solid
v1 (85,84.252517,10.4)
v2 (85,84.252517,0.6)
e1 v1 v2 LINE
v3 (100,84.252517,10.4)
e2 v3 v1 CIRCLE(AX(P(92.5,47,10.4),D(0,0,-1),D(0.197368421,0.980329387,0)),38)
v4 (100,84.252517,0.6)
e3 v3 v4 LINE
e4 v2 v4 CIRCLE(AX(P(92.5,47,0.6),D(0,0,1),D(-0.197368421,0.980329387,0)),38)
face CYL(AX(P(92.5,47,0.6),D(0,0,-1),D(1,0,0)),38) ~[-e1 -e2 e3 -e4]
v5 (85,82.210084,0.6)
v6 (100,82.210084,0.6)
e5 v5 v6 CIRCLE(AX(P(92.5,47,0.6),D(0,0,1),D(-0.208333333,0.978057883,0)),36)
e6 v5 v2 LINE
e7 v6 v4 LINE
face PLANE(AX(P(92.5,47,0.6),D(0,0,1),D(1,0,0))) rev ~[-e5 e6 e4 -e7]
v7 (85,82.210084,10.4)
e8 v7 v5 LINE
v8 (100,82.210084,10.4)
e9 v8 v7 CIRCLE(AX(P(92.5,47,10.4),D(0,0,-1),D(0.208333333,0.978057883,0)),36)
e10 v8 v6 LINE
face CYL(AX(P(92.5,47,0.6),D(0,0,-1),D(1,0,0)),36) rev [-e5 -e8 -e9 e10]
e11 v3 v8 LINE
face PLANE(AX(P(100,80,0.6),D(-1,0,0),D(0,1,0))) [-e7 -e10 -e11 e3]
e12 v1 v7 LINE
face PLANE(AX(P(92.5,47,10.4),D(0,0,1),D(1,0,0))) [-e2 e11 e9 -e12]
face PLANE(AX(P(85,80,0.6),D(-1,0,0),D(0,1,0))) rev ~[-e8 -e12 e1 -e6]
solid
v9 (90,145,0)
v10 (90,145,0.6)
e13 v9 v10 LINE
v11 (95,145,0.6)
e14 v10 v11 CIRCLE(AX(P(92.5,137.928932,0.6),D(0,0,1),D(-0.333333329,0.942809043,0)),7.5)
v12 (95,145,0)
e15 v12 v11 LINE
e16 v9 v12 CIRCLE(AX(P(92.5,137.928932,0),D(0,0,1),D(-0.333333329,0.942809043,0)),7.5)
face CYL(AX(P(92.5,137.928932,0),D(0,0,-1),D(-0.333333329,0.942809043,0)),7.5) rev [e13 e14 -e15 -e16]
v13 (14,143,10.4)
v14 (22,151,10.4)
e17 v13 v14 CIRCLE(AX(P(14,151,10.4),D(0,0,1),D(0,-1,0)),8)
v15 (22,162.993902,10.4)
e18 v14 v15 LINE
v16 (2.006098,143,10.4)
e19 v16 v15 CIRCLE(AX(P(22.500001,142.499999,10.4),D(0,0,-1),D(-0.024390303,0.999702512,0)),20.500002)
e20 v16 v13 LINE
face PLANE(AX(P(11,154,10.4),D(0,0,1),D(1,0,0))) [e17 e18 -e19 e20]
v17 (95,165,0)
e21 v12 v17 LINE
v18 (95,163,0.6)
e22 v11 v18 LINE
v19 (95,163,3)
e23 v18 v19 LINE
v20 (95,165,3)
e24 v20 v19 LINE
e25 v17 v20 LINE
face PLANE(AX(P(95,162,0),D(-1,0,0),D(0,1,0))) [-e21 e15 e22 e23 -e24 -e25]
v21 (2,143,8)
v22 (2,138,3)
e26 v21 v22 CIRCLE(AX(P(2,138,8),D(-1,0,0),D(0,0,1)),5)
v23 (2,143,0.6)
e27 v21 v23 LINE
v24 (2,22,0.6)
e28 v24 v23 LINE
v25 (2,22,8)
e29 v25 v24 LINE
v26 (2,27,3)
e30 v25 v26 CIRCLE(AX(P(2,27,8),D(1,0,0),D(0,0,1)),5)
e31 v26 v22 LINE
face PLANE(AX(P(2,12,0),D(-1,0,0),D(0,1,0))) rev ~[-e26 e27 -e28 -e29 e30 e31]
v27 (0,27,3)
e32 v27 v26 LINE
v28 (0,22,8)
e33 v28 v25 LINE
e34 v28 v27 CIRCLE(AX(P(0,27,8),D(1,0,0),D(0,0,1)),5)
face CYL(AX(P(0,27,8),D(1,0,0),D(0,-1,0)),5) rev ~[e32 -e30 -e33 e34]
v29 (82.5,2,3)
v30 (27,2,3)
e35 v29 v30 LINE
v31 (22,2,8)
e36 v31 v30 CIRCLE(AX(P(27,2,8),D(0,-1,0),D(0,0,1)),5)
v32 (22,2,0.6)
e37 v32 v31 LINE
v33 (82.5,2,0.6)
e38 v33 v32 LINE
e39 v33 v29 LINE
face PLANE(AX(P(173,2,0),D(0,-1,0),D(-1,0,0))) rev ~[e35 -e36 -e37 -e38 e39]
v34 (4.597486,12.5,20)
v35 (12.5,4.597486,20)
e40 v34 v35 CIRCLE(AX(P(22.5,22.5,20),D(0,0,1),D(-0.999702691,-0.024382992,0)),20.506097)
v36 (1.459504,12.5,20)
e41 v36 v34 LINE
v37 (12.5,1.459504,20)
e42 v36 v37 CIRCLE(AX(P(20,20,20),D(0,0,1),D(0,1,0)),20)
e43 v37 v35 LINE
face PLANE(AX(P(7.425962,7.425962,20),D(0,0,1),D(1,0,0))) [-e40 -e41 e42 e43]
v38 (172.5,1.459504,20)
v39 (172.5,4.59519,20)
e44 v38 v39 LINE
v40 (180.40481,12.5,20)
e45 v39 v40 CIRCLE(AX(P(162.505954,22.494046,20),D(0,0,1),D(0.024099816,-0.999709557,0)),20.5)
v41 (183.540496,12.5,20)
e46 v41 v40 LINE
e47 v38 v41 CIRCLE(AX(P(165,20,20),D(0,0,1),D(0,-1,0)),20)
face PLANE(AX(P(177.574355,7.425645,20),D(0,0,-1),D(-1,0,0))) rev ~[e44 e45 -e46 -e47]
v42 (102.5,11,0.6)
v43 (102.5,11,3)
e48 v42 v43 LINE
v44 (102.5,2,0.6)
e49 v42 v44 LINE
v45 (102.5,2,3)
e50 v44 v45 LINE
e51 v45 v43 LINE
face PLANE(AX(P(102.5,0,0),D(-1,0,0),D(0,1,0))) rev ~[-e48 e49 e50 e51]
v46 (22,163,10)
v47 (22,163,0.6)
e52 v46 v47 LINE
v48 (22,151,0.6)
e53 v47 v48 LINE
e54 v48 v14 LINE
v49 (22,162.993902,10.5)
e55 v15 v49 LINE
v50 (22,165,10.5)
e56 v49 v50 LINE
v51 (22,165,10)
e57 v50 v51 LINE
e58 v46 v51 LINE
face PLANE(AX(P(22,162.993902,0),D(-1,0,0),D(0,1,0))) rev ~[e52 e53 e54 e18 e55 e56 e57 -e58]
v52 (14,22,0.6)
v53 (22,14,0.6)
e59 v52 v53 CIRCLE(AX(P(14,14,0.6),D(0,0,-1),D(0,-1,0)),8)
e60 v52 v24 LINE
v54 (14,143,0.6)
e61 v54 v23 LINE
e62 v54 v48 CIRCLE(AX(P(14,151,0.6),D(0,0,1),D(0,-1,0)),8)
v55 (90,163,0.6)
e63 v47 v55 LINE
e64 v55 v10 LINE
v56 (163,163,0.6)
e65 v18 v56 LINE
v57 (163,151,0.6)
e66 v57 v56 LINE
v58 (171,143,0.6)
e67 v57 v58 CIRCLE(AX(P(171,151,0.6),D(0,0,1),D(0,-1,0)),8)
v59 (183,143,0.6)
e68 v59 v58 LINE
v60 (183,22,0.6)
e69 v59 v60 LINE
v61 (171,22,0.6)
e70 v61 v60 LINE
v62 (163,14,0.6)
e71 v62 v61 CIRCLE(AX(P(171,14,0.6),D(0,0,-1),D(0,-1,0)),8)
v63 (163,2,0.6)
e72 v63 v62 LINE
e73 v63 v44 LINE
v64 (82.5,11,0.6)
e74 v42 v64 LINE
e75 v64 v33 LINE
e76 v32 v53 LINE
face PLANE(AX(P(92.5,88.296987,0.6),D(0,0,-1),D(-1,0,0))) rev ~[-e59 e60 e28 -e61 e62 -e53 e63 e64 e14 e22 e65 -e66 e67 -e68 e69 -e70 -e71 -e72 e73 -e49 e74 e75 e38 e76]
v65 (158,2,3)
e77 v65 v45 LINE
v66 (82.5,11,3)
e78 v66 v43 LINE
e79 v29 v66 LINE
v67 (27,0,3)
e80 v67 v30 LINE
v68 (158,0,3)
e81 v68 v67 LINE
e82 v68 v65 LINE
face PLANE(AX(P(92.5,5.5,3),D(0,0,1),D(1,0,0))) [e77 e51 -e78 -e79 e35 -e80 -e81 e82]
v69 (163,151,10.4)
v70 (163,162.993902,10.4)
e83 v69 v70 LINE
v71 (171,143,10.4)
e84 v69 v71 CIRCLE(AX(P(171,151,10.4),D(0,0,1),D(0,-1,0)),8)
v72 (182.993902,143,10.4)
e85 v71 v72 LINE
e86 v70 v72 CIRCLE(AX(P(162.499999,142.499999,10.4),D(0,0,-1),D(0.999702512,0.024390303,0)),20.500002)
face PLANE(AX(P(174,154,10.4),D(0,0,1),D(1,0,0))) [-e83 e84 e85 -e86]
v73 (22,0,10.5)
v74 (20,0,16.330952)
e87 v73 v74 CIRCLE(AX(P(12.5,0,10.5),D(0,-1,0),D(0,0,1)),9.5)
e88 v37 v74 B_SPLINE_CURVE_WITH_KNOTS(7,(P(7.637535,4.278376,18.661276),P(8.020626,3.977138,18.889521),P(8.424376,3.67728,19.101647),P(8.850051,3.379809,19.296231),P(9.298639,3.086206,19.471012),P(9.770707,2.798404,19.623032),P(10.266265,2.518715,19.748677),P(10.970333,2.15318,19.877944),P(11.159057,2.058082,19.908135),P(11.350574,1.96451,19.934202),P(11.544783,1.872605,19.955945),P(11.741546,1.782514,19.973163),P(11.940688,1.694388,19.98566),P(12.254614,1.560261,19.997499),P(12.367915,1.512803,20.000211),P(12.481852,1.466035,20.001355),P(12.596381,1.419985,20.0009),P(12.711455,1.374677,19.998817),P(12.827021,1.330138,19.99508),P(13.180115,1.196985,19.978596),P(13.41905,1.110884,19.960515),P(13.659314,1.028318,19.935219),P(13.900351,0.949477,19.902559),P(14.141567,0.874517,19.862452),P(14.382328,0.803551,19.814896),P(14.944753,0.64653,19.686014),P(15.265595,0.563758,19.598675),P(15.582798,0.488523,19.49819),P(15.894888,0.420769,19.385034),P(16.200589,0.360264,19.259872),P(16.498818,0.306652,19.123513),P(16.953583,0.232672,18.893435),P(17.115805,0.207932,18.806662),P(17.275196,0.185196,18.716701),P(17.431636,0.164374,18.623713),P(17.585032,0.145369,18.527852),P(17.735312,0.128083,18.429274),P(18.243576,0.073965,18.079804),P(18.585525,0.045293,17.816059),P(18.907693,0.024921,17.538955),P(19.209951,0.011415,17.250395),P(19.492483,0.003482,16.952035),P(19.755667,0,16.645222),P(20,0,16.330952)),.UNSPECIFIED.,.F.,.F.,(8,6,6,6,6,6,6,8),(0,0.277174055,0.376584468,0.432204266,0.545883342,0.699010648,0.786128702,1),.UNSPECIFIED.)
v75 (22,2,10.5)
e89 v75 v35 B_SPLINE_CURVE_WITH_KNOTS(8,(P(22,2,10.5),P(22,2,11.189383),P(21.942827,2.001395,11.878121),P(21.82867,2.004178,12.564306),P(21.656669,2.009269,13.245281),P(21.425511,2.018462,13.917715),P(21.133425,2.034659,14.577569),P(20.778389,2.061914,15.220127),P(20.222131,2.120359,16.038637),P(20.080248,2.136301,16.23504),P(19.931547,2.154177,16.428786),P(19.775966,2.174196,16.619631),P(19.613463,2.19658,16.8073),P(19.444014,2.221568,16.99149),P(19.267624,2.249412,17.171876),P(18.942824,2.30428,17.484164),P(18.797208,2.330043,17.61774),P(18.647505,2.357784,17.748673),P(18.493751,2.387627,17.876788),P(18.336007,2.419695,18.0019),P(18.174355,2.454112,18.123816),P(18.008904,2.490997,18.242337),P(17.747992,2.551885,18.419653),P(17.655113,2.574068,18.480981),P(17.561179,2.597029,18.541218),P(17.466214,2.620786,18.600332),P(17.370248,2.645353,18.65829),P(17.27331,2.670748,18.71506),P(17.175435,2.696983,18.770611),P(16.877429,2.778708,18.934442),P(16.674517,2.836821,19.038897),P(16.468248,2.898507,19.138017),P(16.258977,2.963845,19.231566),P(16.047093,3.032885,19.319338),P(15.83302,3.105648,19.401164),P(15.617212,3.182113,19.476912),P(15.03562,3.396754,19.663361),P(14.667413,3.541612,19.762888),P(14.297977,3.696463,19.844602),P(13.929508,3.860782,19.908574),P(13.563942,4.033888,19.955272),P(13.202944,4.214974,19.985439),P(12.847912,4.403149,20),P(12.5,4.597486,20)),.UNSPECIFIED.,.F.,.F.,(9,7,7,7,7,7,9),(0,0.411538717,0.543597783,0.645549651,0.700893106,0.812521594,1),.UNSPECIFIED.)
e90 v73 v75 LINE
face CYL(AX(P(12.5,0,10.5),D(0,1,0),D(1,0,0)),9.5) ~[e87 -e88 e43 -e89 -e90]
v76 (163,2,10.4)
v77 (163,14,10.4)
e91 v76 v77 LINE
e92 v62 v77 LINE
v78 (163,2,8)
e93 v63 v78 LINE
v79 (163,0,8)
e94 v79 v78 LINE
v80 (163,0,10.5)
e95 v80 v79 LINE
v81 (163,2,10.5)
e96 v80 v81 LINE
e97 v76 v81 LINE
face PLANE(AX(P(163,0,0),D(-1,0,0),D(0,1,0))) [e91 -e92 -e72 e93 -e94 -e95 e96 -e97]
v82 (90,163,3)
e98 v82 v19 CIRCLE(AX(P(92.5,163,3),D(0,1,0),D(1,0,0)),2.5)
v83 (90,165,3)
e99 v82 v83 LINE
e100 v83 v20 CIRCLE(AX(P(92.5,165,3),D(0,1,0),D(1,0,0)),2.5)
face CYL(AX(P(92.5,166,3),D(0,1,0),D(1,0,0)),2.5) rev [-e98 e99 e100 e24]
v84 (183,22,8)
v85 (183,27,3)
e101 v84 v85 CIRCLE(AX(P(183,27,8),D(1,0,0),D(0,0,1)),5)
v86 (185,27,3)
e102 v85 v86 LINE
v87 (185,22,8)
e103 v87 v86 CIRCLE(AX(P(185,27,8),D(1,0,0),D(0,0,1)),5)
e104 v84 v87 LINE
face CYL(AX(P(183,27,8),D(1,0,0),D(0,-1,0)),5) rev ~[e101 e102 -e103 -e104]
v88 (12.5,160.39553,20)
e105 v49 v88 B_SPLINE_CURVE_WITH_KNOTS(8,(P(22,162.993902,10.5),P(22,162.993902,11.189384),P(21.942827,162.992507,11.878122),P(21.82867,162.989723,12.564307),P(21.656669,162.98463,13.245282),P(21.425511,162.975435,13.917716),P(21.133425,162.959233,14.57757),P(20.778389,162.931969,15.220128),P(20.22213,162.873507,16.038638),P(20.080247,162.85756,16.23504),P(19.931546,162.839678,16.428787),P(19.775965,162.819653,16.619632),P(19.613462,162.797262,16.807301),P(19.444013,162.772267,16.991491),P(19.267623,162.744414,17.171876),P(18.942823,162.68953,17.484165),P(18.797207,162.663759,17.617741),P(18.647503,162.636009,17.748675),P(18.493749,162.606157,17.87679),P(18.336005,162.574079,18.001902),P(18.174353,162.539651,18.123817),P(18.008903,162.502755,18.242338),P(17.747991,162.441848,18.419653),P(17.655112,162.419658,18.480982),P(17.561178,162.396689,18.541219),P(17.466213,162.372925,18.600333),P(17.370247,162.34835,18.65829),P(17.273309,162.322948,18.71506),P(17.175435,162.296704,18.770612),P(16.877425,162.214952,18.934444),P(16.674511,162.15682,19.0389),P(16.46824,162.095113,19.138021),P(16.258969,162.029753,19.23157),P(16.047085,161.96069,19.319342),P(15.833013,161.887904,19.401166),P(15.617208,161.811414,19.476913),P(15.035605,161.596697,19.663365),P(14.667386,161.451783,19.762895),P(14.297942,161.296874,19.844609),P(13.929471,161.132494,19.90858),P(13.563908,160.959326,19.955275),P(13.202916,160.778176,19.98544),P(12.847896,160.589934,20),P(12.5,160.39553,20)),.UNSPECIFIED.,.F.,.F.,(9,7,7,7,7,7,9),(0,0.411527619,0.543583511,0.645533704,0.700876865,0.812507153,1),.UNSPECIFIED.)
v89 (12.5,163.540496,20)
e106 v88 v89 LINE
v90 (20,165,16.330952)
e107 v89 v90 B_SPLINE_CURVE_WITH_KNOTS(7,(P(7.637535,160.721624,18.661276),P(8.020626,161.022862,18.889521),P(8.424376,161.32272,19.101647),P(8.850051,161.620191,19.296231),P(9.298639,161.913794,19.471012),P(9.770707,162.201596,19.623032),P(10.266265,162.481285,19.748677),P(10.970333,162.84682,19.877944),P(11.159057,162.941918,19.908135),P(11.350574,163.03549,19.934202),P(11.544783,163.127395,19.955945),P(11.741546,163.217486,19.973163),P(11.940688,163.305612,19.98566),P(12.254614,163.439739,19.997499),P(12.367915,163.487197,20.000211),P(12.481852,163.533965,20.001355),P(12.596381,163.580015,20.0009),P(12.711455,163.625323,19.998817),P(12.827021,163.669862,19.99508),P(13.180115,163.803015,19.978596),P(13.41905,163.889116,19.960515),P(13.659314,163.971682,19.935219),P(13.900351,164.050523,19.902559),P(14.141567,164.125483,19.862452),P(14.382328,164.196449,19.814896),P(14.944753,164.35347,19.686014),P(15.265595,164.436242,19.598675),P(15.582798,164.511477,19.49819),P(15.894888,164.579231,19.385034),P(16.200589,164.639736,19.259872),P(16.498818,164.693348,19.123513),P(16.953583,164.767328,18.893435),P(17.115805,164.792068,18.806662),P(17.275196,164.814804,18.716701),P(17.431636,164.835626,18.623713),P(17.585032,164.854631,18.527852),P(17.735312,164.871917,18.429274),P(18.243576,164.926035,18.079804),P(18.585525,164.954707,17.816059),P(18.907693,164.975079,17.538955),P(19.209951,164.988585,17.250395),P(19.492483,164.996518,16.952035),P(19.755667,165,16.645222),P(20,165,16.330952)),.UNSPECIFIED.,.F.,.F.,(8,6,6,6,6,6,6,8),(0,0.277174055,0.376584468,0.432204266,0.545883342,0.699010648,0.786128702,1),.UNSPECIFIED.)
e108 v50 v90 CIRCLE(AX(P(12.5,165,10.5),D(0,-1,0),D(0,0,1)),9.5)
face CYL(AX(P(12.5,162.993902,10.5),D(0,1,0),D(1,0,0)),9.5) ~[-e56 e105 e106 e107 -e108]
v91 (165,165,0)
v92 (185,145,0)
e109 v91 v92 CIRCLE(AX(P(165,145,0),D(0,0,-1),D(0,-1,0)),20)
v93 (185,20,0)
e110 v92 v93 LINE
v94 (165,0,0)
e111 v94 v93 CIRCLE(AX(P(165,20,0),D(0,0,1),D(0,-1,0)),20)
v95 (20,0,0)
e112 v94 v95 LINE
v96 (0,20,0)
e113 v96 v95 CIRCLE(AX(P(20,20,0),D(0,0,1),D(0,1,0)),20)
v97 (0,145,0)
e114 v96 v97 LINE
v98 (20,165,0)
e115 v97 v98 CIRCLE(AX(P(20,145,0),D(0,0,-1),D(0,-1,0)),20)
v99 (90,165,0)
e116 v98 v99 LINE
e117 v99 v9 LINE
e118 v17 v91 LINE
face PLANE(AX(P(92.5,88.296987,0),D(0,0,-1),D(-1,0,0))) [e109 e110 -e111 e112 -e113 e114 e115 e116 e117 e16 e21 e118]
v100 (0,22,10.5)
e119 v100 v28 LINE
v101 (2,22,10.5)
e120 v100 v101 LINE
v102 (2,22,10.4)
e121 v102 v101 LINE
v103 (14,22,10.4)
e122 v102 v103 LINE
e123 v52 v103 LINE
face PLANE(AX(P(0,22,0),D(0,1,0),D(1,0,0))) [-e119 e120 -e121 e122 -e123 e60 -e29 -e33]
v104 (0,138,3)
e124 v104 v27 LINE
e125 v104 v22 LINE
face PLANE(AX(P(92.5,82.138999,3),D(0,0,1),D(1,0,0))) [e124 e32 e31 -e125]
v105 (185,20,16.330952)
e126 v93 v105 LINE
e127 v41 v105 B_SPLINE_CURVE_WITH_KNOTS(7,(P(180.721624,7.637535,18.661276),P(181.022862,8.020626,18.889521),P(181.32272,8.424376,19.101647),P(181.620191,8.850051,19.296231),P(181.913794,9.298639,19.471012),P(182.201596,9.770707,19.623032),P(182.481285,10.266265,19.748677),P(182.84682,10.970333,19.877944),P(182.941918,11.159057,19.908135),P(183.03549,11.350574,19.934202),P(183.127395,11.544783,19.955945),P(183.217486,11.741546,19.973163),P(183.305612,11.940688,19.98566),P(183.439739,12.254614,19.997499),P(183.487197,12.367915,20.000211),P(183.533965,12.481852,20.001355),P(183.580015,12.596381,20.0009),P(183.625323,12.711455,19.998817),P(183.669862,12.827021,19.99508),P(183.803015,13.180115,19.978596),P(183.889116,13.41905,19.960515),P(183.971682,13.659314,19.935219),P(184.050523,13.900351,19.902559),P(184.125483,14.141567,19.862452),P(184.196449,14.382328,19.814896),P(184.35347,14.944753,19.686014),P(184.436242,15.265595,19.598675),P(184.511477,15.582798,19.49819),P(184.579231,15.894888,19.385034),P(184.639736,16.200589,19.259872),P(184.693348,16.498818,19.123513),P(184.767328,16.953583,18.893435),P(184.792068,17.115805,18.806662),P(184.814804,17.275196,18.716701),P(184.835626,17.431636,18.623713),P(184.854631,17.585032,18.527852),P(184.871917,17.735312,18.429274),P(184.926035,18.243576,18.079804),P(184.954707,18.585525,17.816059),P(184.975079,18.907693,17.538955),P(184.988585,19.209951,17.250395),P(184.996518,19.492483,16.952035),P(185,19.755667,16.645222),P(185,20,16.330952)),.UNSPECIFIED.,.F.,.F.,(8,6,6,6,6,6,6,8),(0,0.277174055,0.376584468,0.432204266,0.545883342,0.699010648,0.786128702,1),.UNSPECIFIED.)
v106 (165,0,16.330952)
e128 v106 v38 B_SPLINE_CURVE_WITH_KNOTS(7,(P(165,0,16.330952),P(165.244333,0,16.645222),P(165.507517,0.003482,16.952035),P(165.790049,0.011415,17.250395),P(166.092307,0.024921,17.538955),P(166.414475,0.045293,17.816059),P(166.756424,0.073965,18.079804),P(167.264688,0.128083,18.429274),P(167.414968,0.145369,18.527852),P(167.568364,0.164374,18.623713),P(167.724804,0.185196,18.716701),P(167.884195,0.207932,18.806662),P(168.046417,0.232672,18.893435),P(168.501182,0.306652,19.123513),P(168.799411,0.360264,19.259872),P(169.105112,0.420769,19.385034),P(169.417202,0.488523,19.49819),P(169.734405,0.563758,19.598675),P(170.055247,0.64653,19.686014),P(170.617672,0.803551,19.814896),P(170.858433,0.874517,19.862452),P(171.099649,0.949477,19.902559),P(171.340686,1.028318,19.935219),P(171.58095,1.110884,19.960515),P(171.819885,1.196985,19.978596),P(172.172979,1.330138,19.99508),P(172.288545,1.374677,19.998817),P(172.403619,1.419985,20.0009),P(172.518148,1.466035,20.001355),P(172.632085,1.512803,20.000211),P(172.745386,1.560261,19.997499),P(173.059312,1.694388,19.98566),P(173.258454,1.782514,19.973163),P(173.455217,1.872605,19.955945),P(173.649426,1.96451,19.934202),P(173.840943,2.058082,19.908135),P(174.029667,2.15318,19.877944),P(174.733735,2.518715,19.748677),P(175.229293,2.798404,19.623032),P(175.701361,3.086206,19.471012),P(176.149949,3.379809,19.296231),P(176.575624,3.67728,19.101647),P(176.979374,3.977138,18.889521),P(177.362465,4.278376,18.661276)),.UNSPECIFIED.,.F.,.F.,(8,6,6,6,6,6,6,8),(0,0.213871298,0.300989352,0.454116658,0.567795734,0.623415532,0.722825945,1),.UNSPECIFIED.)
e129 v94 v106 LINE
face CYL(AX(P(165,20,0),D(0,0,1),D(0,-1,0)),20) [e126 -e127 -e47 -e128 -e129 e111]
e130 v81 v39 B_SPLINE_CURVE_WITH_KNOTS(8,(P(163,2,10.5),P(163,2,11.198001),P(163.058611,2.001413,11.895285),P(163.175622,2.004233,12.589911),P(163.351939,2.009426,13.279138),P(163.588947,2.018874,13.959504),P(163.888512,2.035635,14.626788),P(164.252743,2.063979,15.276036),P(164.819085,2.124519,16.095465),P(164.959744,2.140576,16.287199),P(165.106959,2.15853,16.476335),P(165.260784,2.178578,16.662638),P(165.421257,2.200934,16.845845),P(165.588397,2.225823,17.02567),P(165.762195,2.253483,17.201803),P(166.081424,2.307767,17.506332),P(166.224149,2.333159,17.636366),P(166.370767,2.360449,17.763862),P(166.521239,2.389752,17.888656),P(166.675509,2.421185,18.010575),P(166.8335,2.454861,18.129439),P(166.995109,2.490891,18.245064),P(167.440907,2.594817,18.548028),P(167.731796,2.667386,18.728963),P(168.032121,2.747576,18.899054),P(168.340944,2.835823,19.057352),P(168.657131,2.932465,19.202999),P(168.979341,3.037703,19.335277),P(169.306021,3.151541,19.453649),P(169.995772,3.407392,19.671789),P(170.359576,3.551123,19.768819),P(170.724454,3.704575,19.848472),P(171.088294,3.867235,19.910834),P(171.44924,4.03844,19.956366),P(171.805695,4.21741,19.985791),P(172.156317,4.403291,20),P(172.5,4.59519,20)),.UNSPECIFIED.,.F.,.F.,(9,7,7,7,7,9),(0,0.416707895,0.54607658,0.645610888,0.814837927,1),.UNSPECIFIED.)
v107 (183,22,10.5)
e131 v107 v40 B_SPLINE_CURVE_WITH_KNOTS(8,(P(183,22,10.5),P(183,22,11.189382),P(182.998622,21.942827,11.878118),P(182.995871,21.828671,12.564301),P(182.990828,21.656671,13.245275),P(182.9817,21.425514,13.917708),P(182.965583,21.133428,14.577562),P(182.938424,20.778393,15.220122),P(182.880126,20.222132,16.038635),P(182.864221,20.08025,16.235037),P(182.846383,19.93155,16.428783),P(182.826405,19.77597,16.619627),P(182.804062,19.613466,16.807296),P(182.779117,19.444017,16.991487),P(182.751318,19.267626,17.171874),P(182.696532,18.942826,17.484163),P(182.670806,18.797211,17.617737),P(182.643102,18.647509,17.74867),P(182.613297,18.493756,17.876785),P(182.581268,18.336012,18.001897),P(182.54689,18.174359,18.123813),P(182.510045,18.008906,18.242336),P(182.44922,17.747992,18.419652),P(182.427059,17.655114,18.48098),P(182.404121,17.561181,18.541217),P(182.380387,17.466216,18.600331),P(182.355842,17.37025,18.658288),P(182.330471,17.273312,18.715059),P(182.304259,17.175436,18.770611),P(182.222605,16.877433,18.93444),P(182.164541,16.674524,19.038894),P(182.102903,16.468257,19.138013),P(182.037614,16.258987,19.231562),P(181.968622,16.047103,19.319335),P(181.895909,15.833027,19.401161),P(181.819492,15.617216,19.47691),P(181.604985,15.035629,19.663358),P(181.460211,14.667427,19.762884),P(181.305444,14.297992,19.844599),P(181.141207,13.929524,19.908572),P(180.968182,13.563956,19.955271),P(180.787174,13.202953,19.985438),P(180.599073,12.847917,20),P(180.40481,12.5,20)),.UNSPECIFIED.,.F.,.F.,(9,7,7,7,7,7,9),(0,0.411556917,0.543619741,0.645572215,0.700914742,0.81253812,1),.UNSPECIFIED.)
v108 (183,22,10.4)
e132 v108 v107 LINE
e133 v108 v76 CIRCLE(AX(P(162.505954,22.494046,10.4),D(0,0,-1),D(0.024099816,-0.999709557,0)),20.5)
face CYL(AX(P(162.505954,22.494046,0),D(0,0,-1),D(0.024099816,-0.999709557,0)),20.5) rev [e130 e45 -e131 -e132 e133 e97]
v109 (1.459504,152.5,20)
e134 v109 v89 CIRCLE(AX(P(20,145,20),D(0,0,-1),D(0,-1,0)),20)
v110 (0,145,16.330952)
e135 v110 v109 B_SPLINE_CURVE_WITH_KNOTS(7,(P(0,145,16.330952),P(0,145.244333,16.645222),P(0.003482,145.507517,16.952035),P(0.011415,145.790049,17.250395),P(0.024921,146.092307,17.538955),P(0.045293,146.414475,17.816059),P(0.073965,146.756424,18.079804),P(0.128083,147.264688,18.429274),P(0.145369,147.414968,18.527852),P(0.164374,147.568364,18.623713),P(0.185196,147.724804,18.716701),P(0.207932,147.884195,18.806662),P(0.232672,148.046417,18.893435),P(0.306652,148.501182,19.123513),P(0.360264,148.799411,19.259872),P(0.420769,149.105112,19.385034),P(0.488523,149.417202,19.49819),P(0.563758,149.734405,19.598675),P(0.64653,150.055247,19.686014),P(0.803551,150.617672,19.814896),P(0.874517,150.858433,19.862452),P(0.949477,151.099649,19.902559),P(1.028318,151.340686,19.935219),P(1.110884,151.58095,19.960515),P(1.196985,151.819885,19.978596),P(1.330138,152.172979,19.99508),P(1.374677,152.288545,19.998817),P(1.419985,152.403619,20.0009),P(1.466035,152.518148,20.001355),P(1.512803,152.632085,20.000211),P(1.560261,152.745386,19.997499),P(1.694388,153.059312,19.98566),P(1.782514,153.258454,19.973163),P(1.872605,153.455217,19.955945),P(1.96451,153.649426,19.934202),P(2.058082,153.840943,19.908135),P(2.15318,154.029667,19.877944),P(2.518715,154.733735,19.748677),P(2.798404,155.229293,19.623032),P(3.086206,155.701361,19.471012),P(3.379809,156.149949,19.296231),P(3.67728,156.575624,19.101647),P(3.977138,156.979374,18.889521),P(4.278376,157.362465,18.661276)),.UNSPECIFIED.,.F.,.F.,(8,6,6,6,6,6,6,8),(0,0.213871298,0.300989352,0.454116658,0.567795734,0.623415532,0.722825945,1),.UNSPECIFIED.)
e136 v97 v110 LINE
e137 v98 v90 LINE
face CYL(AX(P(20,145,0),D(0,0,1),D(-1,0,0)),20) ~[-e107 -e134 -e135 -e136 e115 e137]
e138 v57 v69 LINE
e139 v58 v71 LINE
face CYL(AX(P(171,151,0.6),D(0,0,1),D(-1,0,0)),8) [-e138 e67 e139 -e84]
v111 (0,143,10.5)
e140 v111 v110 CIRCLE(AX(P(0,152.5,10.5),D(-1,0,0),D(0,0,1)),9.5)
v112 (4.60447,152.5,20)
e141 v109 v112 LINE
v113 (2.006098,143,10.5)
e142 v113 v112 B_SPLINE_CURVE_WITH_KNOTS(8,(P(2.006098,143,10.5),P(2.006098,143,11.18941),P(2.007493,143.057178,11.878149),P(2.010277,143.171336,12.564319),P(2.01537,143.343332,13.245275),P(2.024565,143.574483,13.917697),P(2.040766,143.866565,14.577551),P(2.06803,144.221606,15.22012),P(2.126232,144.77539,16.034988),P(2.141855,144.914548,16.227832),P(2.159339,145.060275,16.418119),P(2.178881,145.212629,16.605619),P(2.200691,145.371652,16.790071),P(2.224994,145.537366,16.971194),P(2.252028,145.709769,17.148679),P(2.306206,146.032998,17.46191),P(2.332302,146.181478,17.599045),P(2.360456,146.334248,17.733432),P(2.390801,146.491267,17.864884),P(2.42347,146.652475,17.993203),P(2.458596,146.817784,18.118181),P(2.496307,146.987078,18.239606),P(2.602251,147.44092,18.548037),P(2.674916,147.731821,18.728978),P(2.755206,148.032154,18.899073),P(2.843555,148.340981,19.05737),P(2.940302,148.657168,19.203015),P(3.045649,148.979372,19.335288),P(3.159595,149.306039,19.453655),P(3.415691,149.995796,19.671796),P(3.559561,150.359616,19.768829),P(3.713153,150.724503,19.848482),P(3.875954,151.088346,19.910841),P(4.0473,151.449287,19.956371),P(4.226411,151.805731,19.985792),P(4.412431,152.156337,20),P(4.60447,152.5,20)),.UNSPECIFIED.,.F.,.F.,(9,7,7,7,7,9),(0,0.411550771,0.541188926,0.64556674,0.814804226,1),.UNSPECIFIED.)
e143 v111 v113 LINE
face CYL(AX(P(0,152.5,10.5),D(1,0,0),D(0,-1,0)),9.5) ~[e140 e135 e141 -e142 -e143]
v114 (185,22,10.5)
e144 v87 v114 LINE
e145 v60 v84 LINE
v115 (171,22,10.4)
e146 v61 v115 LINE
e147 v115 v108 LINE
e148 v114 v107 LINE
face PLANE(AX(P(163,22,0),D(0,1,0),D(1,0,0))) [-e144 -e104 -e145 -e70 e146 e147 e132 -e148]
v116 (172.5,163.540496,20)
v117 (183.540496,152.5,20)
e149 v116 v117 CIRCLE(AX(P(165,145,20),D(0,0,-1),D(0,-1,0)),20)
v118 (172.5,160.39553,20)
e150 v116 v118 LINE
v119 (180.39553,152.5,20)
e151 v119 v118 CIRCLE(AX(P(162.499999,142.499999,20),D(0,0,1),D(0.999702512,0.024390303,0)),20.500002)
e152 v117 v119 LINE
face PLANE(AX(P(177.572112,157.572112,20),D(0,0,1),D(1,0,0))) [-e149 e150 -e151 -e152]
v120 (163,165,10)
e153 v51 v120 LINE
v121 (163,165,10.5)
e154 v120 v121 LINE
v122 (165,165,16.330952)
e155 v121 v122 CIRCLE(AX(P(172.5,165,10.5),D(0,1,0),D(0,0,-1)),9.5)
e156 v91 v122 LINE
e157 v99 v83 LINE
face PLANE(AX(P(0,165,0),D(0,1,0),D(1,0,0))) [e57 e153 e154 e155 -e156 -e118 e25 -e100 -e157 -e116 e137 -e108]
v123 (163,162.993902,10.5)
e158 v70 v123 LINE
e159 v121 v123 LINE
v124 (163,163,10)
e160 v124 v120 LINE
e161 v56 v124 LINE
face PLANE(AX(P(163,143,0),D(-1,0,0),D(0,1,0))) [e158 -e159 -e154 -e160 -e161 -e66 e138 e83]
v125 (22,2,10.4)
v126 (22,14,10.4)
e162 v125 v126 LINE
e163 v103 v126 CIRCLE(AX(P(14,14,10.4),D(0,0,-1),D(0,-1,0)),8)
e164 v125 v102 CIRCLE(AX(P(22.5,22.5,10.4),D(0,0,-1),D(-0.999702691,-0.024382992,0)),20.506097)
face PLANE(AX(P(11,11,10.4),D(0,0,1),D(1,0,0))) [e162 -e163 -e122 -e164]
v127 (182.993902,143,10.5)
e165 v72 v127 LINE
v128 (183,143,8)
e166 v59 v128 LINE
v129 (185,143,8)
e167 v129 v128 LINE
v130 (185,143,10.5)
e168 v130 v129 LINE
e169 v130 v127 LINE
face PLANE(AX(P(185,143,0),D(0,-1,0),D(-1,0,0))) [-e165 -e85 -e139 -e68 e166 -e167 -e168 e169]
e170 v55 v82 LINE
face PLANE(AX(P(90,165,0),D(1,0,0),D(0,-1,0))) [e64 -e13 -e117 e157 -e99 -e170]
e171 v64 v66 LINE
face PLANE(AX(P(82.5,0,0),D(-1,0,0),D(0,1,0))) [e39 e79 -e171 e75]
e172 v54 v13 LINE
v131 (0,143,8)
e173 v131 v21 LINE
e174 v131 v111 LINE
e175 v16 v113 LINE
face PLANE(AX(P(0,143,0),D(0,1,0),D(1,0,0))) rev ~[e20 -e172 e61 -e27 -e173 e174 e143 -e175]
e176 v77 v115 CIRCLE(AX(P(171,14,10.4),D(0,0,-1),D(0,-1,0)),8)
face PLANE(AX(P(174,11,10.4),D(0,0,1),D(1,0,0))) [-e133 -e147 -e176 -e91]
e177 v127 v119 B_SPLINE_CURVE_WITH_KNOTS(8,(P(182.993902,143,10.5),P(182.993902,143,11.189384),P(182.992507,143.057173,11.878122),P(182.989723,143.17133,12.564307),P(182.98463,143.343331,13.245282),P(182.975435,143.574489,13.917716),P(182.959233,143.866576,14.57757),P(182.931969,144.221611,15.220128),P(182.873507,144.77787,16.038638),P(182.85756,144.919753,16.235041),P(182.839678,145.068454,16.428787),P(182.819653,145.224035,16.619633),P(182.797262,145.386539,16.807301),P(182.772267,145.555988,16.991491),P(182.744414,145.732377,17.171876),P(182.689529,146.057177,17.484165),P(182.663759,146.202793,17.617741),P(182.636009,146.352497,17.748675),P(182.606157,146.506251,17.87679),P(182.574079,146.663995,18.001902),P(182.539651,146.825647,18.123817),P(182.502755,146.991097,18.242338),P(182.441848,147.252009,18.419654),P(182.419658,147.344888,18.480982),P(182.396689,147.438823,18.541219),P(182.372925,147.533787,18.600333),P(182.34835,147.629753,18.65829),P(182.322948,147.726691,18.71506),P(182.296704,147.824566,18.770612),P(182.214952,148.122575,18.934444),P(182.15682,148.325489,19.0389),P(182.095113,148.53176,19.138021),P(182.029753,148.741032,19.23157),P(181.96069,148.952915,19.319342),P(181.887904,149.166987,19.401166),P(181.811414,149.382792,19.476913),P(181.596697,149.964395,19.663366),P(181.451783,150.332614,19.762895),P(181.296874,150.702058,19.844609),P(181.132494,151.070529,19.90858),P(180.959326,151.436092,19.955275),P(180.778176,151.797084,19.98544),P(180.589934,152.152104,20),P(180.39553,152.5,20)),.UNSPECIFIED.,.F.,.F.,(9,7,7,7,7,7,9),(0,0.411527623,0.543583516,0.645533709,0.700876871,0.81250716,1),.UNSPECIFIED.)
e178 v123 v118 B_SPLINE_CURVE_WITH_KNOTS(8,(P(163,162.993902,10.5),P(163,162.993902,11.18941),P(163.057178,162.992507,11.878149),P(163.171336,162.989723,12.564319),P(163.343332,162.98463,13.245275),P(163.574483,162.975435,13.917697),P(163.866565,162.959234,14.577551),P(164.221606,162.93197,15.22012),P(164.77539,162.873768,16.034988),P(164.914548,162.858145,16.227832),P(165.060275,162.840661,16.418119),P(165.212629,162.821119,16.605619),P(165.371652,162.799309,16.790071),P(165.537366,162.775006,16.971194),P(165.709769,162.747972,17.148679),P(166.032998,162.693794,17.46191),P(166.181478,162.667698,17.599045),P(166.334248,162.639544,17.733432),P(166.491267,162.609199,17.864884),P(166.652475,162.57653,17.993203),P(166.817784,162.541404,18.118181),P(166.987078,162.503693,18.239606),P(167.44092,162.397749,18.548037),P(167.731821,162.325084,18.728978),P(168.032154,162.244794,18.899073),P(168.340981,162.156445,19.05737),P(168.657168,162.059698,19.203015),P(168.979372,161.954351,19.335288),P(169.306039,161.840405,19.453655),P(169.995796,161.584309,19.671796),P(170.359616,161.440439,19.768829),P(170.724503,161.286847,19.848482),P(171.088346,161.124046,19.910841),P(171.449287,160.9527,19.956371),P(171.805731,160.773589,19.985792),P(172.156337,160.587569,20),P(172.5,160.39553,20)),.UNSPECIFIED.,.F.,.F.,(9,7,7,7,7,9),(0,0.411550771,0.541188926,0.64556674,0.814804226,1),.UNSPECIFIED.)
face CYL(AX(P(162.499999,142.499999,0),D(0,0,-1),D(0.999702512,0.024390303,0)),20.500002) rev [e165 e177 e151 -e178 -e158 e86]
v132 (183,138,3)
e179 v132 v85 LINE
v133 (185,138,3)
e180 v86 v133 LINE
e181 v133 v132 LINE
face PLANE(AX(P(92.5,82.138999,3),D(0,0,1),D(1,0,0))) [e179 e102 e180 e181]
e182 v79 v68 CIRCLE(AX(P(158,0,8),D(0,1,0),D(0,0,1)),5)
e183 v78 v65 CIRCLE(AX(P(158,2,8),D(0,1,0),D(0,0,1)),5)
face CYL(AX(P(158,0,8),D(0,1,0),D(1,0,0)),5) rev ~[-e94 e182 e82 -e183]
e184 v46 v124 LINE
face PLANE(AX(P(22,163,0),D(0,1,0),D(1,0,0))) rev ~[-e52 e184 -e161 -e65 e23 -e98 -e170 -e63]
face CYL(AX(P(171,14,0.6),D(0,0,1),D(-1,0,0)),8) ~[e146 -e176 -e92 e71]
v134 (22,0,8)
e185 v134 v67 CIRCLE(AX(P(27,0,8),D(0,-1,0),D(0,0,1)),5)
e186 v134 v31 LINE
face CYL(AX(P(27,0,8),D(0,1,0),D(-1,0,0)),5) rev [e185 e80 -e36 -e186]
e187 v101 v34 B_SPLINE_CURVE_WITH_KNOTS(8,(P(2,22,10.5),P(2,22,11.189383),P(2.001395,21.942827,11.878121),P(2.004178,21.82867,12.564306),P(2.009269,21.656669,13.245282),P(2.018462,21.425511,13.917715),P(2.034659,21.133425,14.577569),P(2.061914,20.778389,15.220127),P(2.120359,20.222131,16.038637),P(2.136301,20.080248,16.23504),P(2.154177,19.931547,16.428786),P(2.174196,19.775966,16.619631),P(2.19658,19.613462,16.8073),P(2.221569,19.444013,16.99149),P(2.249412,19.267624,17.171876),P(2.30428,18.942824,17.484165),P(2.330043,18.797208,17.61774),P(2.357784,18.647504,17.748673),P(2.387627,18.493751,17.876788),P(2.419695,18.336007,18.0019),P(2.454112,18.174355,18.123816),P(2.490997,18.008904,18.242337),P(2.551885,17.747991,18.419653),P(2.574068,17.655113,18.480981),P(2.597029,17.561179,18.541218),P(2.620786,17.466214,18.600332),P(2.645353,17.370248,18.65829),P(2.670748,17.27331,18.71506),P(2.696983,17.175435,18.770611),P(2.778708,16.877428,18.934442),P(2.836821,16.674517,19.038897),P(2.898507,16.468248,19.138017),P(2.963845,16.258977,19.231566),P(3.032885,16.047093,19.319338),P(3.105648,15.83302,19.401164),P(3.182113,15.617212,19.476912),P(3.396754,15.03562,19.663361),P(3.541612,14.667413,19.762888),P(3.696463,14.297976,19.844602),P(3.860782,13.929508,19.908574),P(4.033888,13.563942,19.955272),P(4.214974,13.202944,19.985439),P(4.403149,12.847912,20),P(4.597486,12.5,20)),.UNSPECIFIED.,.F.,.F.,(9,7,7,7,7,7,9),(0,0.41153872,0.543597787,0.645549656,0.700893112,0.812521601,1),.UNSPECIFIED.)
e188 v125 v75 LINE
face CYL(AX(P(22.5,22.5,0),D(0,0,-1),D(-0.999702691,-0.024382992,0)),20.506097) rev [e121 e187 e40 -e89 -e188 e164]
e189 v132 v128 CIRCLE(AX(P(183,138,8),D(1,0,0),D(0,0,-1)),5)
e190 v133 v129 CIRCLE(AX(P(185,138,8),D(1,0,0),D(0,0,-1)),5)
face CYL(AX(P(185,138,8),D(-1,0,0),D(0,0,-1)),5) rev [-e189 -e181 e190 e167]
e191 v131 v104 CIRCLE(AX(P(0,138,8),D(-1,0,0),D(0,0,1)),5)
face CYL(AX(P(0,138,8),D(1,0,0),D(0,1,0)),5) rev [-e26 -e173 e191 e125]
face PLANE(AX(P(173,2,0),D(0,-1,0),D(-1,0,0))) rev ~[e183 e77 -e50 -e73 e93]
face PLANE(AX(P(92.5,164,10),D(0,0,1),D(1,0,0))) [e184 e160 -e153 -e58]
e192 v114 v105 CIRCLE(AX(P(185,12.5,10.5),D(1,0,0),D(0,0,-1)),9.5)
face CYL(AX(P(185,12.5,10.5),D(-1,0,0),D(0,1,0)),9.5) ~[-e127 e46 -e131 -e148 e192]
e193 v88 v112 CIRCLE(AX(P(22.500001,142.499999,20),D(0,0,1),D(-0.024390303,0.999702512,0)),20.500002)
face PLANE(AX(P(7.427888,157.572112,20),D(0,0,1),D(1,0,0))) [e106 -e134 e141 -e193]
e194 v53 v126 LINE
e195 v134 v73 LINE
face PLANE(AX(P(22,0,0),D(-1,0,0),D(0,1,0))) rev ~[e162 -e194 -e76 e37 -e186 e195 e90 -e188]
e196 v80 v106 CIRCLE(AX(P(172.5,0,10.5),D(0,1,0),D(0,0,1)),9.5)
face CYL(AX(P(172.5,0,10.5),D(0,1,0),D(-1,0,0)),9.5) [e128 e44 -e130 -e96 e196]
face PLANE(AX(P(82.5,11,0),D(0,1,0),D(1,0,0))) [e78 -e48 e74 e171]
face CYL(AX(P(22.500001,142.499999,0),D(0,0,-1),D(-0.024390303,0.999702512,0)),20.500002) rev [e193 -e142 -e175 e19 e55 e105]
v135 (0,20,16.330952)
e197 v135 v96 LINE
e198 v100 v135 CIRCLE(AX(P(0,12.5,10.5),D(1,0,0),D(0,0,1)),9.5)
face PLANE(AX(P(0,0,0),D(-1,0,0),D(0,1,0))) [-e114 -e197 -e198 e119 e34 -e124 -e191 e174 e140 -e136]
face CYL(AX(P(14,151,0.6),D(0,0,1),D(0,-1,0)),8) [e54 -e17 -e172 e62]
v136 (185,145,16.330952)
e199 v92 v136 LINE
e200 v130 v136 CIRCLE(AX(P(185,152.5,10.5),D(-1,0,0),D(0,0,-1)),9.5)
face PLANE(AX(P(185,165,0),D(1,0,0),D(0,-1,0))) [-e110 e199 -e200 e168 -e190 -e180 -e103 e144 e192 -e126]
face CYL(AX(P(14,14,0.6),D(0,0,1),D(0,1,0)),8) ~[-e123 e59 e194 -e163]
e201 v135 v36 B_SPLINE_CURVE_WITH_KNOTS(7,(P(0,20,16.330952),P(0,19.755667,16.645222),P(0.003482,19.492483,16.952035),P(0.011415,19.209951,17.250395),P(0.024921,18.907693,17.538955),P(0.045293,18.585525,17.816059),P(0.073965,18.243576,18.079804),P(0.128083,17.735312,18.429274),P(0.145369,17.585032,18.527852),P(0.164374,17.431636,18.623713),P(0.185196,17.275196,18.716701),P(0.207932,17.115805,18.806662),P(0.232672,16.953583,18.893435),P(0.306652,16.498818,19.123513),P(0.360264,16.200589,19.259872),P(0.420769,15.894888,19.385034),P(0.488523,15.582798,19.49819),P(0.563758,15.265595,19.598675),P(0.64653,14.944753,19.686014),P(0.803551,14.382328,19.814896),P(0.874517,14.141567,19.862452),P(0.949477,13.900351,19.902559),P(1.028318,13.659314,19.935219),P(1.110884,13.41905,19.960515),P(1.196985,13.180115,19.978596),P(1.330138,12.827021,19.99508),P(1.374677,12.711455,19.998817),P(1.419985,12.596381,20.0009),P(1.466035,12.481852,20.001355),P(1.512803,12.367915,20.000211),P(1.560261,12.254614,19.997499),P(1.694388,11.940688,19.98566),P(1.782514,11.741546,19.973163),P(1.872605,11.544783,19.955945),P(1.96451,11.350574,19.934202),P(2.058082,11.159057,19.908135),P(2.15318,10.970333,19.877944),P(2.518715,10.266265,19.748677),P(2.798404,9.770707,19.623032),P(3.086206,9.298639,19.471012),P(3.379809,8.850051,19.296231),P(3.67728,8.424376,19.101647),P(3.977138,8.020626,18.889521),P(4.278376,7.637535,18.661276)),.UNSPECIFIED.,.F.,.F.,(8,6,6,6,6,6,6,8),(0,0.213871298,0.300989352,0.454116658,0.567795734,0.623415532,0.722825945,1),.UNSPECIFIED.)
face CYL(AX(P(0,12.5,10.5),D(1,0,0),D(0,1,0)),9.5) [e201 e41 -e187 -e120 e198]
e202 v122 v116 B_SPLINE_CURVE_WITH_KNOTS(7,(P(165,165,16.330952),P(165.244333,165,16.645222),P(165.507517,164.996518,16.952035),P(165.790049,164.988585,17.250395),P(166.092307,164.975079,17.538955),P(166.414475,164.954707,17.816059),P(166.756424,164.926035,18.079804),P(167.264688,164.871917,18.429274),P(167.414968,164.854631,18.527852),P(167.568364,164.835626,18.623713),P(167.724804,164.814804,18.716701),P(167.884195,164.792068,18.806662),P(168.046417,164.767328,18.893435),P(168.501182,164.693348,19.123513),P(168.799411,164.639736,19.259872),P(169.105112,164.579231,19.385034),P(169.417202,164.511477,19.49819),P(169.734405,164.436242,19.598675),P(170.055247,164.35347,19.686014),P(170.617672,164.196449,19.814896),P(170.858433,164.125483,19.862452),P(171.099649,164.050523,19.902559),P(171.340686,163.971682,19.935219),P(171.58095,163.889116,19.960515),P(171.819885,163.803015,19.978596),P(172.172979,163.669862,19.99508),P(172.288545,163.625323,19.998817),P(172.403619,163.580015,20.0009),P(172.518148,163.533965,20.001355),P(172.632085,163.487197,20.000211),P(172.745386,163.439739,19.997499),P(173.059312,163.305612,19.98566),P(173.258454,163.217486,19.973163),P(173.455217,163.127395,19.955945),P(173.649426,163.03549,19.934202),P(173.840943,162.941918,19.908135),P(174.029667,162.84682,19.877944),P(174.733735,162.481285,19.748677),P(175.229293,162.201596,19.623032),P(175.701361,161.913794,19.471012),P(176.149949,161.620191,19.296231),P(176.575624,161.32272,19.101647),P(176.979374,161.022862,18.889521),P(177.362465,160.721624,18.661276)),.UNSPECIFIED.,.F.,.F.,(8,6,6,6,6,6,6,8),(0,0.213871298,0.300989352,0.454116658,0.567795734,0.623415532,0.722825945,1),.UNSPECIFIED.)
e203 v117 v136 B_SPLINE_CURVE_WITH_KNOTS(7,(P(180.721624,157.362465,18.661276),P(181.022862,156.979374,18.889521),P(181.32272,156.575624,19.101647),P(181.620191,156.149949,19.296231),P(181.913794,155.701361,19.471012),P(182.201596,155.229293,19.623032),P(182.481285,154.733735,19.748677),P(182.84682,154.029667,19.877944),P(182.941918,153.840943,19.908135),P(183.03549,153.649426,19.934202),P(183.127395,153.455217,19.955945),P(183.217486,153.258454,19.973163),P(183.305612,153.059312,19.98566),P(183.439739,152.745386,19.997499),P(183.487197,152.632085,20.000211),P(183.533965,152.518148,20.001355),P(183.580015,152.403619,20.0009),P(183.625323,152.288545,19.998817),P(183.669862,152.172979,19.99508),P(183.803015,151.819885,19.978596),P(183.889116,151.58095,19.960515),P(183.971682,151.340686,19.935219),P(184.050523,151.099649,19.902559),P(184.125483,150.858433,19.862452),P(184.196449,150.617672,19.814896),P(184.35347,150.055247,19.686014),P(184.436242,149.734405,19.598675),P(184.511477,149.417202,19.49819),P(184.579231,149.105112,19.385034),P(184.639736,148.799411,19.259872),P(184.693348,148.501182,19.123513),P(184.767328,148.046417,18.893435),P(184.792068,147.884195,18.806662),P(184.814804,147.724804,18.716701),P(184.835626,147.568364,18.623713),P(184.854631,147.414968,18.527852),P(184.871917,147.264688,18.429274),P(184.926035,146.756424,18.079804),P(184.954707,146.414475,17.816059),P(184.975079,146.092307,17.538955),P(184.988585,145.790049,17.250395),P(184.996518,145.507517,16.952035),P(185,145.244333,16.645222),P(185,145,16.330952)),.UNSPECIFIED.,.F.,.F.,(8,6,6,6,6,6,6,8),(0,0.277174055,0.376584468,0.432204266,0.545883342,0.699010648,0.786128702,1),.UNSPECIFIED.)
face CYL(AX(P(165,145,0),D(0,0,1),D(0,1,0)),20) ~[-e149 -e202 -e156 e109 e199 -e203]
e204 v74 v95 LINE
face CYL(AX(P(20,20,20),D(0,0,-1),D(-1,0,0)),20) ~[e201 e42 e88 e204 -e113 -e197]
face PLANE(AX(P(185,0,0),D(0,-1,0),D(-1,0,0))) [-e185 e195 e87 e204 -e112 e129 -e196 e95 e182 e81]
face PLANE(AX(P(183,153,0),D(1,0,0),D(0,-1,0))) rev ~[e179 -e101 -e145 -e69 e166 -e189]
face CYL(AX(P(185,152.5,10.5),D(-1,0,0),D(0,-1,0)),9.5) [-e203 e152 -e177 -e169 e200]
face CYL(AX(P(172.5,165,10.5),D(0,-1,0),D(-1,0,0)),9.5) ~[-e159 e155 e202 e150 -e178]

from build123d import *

# Parameters (mm, degrees)
BOX_W               = 15
BOX_H               = 10
BOX_DEPTH           = 10
SKETCH002_R         = 38
SKETCH002_R_2       = 36
PAD001_DEPTH        = 9.8
BOX002_W            = 5
BOX002_H            = 5
BOX002_DEPTH        = 3
CYLINDER_R          = 2.5
CYLINDER_DEPTH      = 5
CYLINDER_ROLL_ANGLE = 90
PAD005_DEPTH        = 0.6
PAD004_DEPTH        = 20
SKETCH003_W         = 22
SKETCH003_H         = 22
PAD003_DEPTH        = 10.4
PAD_DEPTH           = 3
BOX001_W            = 141
BOX001_H            = 2
BOX001_DEPTH        = 10
SKETCH006_W         = 20
SKETCH006_H         = 11
PAD006_DEPTH        = 3
FILLET_R            = 5
FILLET001_R         = 9.5
FILLET002_R         = 20
FILLET003_R         = 8


with BuildPart() as usb_connection:
    # Box → Box (new body)
    with BuildSketch(Plane(origin=(85, 80, 0.6), x_dir=(1, 0, 0), z_dir=(0, 0, 1))):
        with Locations((7.5, 5)):
            Rectangle(BOX_W, BOX_H)
    extrude(amount=BOX_DEPTH)


with BuildPart() as cut:
    # Sketch002 → Pad001 (new body)
    with BuildSketch(Plane.XY.offset(0.6)):
        with Locations((92.5, 47)):
            Circle(SKETCH002_R)
        with Locations((92.5, 47)):
            Circle(SKETCH002_R_2, mode=Mode.SUBTRACT)
    extrude(amount=PAD001_DEPTH)

    # Cut: cut USB_CONNECTION
    add(usb_connection.part, mode=Mode.SUBTRACT)


with BuildPart() as w_rfel001:
    # Box002 → Box002 (new body)
    with BuildSketch(Plane(origin=(90, 162, 0), x_dir=(1, 0, 0), z_dir=(0, 0, 1))):
        with Locations((2.5, 2.5)):
            Rectangle(BOX002_W, BOX002_H)
    extrude(amount=BOX002_DEPTH)


with BuildPart() as zylinder:
    # Cylinder → Cylinder (new body)
    with BuildSketch(Plane.XY):
        Circle(CYLINDER_R)
    extrude(amount=CYLINDER_DEPTH)


with BuildPart() as zylinder_1:
    # Cylinder roll: moved
    add(zylinder.part.rotate(Axis((0, 0, 0), (1, 0, 0)), CYLINDER_ROLL_ANGLE))


with BuildPart() as zylinder_2:
    # Cylinder placement: moved
    add(zylinder_1.part.moved(Location((92.5, 166, 3))))


with BuildPart() as pad005:
    # Sketch005 → Pad005 (new body)
    with BuildSketch(Plane.XY):
        with BuildLine():
            Line((185, 165), (185, 0))
            Line((185, 0), (0, 0))
            Line((0, 0), (0, 165))
            Line((0, 165), (90, 165))
            Line((90, 165), (90, 145))
            ThreePointArc((90, 145), (92.5, 130.428932), (95, 145))
            Line((95, 165), (95, 145))
            Line((185, 165), (95, 165))
        make_face()
    extrude(amount=PAD005_DEPTH)


with BuildPart() as pad004:
    # Sketch004 → Pad004 (new body)
    with BuildSketch(Plane.XY):
        with BuildLine():
            Line((0, 165), (0, 143))
            Line((0, 143), (2.006098, 143))
            ThreePointArc((22, 162.993902), (8.004311, 156.995689), (2.006098, 143))
            Line((22, 162.993902), (22, 165))
            Line((0, 165), (22, 165))
        make_face()
        with BuildLine():
            Line((185, 165), (163, 165))
            Line((163, 165), (163, 162.993902))
            ThreePointArc((182.993902, 143), (176.995689, 156.995689), (163, 162.993902))
            Line((185, 143), (182.993902, 143))
            Line((185, 165), (185, 143))
        make_face()
        with BuildLine():
            Line((185, 22), (185, 0))
            Line((185, 0), (163, 0))
            Line((163, 0), (163, 2))
            ThreePointArc((163, 2), (177.001643, 7.998357), (183, 22))
            Line((185, 22), (183, 22))
        make_face()
        with BuildLine():
            Line((0, 0), (22, 0))
            Line((22, 0), (22, 2))
            ThreePointArc((2, 22), (8, 8), (22, 2))
            Line((0, 22), (2, 22))
            Line((0, 0), (0, 22))
        make_face()
    extrude(amount=PAD004_DEPTH)


with BuildPart() as pad003:
    # Sketch003 → Pad003 (new body)
    with BuildSketch(Plane.XY):
        with Locations((11, 154)):
            Rectangle(SKETCH003_W, SKETCH003_H)
        with Locations((174, 154)):
            Rectangle(SKETCH003_W, SKETCH003_H)
        with Locations((174, 11)):
            Rectangle(SKETCH003_W, SKETCH003_H)
        with Locations((11, 11)):
            Rectangle(SKETCH003_W, SKETCH003_H)
    extrude(amount=PAD003_DEPTH)


with BuildPart() as pad:
    # Sketch → Pad (new body)
    with BuildSketch(Plane.XY):
        Polygon((0, 0), (185, 0), (185, 165), (95, 165), (95, 163), (173, 163), (183, 153), (183, 12), (173, 2), (12, 2), (2, 12), (2, 153), (12, 163), (90, 163), (90, 165), (0, 165), align=None)
    extrude(amount=PAD_DEPTH)


with BuildPart() as w_rfel:
    # Box001 → Box001 (new body)
    with BuildSketch(Plane(origin=(22, 163, 0), x_dir=(1, 0, 0), z_dir=(0, 0, 1))):
        with Locations((70.5, 1)):
            Rectangle(BOX001_W, BOX001_H)
    extrude(amount=BOX001_DEPTH)


with BuildPart() as fillet003:
    # Sketch006 → Pad006 (new body)
    with BuildSketch(Plane.XY):
        with Locations((92.5, 5.5)):
            Rectangle(SKETCH006_W, SKETCH006_H)
    extrude(amount=PAD006_DEPTH)

    # Fusion: union Pad005, Pad004, Pad003, Pad, Würfel
    add(pad005.part)
    add(pad004.part)
    add(pad003.part)
    add(pad.part)
    add(w_rfel.part)

    # Cut001: cut Zylinder
    add(zylinder_2.part, mode=Mode.SUBTRACT)

    # Cut002: cut Würfel001
    add(w_rfel001.part, mode=Mode.SUBTRACT)

    # Fillet
    fillet_edges = [fillet003.edges().sort_by_distance(p)[0] for p in [
        (1, 143, 3),
        (1, 22, 3),
        (22, 1, 3),
        (163, 1, 3),
        (184, 22, 3),
        (184, 143, 3),
    ]]
    fillet(fillet_edges, radius=FILLET_R)

    # Fillet001
    fillet001_edges = [fillet003.edges().sort_by_distance(p)[0] for p in [
        (1, 22, 20),
        (22, 1, 20),
        (1.003049, 143, 20),
        (22, 163.996951, 20),
        (183.996951, 143, 20),
        (163, 163.996951, 20),
        (184, 22, 20),
        (163, 1, 20),
    ]]
    fillet(fillet001_edges, radius=FILLET001_R)

    # Fillet002
    fillet002_edges = [fillet003.edges().sort_by_distance(p)[0] for p in [
        (0, 0, 15.2),
        (185, 0, 15.2),
        (185, 165, 15.2),
        (0, 165, 15.2),
    ]]
    fillet(fillet002_edges, radius=FILLET002_R)

    # Fillet003
    fillet003_edges = [fillet003.edges().sort_by_distance(p)[0] for p in [
        (22, 143, 5.5),
        (163, 143, 5.5),
        (163, 22, 5.5),
        (22, 22, 5.5),
    ]]
    fillet(fillet003_edges, radius=FILLET003_R)


solid = Compound([cut.part, fillet003.part])
